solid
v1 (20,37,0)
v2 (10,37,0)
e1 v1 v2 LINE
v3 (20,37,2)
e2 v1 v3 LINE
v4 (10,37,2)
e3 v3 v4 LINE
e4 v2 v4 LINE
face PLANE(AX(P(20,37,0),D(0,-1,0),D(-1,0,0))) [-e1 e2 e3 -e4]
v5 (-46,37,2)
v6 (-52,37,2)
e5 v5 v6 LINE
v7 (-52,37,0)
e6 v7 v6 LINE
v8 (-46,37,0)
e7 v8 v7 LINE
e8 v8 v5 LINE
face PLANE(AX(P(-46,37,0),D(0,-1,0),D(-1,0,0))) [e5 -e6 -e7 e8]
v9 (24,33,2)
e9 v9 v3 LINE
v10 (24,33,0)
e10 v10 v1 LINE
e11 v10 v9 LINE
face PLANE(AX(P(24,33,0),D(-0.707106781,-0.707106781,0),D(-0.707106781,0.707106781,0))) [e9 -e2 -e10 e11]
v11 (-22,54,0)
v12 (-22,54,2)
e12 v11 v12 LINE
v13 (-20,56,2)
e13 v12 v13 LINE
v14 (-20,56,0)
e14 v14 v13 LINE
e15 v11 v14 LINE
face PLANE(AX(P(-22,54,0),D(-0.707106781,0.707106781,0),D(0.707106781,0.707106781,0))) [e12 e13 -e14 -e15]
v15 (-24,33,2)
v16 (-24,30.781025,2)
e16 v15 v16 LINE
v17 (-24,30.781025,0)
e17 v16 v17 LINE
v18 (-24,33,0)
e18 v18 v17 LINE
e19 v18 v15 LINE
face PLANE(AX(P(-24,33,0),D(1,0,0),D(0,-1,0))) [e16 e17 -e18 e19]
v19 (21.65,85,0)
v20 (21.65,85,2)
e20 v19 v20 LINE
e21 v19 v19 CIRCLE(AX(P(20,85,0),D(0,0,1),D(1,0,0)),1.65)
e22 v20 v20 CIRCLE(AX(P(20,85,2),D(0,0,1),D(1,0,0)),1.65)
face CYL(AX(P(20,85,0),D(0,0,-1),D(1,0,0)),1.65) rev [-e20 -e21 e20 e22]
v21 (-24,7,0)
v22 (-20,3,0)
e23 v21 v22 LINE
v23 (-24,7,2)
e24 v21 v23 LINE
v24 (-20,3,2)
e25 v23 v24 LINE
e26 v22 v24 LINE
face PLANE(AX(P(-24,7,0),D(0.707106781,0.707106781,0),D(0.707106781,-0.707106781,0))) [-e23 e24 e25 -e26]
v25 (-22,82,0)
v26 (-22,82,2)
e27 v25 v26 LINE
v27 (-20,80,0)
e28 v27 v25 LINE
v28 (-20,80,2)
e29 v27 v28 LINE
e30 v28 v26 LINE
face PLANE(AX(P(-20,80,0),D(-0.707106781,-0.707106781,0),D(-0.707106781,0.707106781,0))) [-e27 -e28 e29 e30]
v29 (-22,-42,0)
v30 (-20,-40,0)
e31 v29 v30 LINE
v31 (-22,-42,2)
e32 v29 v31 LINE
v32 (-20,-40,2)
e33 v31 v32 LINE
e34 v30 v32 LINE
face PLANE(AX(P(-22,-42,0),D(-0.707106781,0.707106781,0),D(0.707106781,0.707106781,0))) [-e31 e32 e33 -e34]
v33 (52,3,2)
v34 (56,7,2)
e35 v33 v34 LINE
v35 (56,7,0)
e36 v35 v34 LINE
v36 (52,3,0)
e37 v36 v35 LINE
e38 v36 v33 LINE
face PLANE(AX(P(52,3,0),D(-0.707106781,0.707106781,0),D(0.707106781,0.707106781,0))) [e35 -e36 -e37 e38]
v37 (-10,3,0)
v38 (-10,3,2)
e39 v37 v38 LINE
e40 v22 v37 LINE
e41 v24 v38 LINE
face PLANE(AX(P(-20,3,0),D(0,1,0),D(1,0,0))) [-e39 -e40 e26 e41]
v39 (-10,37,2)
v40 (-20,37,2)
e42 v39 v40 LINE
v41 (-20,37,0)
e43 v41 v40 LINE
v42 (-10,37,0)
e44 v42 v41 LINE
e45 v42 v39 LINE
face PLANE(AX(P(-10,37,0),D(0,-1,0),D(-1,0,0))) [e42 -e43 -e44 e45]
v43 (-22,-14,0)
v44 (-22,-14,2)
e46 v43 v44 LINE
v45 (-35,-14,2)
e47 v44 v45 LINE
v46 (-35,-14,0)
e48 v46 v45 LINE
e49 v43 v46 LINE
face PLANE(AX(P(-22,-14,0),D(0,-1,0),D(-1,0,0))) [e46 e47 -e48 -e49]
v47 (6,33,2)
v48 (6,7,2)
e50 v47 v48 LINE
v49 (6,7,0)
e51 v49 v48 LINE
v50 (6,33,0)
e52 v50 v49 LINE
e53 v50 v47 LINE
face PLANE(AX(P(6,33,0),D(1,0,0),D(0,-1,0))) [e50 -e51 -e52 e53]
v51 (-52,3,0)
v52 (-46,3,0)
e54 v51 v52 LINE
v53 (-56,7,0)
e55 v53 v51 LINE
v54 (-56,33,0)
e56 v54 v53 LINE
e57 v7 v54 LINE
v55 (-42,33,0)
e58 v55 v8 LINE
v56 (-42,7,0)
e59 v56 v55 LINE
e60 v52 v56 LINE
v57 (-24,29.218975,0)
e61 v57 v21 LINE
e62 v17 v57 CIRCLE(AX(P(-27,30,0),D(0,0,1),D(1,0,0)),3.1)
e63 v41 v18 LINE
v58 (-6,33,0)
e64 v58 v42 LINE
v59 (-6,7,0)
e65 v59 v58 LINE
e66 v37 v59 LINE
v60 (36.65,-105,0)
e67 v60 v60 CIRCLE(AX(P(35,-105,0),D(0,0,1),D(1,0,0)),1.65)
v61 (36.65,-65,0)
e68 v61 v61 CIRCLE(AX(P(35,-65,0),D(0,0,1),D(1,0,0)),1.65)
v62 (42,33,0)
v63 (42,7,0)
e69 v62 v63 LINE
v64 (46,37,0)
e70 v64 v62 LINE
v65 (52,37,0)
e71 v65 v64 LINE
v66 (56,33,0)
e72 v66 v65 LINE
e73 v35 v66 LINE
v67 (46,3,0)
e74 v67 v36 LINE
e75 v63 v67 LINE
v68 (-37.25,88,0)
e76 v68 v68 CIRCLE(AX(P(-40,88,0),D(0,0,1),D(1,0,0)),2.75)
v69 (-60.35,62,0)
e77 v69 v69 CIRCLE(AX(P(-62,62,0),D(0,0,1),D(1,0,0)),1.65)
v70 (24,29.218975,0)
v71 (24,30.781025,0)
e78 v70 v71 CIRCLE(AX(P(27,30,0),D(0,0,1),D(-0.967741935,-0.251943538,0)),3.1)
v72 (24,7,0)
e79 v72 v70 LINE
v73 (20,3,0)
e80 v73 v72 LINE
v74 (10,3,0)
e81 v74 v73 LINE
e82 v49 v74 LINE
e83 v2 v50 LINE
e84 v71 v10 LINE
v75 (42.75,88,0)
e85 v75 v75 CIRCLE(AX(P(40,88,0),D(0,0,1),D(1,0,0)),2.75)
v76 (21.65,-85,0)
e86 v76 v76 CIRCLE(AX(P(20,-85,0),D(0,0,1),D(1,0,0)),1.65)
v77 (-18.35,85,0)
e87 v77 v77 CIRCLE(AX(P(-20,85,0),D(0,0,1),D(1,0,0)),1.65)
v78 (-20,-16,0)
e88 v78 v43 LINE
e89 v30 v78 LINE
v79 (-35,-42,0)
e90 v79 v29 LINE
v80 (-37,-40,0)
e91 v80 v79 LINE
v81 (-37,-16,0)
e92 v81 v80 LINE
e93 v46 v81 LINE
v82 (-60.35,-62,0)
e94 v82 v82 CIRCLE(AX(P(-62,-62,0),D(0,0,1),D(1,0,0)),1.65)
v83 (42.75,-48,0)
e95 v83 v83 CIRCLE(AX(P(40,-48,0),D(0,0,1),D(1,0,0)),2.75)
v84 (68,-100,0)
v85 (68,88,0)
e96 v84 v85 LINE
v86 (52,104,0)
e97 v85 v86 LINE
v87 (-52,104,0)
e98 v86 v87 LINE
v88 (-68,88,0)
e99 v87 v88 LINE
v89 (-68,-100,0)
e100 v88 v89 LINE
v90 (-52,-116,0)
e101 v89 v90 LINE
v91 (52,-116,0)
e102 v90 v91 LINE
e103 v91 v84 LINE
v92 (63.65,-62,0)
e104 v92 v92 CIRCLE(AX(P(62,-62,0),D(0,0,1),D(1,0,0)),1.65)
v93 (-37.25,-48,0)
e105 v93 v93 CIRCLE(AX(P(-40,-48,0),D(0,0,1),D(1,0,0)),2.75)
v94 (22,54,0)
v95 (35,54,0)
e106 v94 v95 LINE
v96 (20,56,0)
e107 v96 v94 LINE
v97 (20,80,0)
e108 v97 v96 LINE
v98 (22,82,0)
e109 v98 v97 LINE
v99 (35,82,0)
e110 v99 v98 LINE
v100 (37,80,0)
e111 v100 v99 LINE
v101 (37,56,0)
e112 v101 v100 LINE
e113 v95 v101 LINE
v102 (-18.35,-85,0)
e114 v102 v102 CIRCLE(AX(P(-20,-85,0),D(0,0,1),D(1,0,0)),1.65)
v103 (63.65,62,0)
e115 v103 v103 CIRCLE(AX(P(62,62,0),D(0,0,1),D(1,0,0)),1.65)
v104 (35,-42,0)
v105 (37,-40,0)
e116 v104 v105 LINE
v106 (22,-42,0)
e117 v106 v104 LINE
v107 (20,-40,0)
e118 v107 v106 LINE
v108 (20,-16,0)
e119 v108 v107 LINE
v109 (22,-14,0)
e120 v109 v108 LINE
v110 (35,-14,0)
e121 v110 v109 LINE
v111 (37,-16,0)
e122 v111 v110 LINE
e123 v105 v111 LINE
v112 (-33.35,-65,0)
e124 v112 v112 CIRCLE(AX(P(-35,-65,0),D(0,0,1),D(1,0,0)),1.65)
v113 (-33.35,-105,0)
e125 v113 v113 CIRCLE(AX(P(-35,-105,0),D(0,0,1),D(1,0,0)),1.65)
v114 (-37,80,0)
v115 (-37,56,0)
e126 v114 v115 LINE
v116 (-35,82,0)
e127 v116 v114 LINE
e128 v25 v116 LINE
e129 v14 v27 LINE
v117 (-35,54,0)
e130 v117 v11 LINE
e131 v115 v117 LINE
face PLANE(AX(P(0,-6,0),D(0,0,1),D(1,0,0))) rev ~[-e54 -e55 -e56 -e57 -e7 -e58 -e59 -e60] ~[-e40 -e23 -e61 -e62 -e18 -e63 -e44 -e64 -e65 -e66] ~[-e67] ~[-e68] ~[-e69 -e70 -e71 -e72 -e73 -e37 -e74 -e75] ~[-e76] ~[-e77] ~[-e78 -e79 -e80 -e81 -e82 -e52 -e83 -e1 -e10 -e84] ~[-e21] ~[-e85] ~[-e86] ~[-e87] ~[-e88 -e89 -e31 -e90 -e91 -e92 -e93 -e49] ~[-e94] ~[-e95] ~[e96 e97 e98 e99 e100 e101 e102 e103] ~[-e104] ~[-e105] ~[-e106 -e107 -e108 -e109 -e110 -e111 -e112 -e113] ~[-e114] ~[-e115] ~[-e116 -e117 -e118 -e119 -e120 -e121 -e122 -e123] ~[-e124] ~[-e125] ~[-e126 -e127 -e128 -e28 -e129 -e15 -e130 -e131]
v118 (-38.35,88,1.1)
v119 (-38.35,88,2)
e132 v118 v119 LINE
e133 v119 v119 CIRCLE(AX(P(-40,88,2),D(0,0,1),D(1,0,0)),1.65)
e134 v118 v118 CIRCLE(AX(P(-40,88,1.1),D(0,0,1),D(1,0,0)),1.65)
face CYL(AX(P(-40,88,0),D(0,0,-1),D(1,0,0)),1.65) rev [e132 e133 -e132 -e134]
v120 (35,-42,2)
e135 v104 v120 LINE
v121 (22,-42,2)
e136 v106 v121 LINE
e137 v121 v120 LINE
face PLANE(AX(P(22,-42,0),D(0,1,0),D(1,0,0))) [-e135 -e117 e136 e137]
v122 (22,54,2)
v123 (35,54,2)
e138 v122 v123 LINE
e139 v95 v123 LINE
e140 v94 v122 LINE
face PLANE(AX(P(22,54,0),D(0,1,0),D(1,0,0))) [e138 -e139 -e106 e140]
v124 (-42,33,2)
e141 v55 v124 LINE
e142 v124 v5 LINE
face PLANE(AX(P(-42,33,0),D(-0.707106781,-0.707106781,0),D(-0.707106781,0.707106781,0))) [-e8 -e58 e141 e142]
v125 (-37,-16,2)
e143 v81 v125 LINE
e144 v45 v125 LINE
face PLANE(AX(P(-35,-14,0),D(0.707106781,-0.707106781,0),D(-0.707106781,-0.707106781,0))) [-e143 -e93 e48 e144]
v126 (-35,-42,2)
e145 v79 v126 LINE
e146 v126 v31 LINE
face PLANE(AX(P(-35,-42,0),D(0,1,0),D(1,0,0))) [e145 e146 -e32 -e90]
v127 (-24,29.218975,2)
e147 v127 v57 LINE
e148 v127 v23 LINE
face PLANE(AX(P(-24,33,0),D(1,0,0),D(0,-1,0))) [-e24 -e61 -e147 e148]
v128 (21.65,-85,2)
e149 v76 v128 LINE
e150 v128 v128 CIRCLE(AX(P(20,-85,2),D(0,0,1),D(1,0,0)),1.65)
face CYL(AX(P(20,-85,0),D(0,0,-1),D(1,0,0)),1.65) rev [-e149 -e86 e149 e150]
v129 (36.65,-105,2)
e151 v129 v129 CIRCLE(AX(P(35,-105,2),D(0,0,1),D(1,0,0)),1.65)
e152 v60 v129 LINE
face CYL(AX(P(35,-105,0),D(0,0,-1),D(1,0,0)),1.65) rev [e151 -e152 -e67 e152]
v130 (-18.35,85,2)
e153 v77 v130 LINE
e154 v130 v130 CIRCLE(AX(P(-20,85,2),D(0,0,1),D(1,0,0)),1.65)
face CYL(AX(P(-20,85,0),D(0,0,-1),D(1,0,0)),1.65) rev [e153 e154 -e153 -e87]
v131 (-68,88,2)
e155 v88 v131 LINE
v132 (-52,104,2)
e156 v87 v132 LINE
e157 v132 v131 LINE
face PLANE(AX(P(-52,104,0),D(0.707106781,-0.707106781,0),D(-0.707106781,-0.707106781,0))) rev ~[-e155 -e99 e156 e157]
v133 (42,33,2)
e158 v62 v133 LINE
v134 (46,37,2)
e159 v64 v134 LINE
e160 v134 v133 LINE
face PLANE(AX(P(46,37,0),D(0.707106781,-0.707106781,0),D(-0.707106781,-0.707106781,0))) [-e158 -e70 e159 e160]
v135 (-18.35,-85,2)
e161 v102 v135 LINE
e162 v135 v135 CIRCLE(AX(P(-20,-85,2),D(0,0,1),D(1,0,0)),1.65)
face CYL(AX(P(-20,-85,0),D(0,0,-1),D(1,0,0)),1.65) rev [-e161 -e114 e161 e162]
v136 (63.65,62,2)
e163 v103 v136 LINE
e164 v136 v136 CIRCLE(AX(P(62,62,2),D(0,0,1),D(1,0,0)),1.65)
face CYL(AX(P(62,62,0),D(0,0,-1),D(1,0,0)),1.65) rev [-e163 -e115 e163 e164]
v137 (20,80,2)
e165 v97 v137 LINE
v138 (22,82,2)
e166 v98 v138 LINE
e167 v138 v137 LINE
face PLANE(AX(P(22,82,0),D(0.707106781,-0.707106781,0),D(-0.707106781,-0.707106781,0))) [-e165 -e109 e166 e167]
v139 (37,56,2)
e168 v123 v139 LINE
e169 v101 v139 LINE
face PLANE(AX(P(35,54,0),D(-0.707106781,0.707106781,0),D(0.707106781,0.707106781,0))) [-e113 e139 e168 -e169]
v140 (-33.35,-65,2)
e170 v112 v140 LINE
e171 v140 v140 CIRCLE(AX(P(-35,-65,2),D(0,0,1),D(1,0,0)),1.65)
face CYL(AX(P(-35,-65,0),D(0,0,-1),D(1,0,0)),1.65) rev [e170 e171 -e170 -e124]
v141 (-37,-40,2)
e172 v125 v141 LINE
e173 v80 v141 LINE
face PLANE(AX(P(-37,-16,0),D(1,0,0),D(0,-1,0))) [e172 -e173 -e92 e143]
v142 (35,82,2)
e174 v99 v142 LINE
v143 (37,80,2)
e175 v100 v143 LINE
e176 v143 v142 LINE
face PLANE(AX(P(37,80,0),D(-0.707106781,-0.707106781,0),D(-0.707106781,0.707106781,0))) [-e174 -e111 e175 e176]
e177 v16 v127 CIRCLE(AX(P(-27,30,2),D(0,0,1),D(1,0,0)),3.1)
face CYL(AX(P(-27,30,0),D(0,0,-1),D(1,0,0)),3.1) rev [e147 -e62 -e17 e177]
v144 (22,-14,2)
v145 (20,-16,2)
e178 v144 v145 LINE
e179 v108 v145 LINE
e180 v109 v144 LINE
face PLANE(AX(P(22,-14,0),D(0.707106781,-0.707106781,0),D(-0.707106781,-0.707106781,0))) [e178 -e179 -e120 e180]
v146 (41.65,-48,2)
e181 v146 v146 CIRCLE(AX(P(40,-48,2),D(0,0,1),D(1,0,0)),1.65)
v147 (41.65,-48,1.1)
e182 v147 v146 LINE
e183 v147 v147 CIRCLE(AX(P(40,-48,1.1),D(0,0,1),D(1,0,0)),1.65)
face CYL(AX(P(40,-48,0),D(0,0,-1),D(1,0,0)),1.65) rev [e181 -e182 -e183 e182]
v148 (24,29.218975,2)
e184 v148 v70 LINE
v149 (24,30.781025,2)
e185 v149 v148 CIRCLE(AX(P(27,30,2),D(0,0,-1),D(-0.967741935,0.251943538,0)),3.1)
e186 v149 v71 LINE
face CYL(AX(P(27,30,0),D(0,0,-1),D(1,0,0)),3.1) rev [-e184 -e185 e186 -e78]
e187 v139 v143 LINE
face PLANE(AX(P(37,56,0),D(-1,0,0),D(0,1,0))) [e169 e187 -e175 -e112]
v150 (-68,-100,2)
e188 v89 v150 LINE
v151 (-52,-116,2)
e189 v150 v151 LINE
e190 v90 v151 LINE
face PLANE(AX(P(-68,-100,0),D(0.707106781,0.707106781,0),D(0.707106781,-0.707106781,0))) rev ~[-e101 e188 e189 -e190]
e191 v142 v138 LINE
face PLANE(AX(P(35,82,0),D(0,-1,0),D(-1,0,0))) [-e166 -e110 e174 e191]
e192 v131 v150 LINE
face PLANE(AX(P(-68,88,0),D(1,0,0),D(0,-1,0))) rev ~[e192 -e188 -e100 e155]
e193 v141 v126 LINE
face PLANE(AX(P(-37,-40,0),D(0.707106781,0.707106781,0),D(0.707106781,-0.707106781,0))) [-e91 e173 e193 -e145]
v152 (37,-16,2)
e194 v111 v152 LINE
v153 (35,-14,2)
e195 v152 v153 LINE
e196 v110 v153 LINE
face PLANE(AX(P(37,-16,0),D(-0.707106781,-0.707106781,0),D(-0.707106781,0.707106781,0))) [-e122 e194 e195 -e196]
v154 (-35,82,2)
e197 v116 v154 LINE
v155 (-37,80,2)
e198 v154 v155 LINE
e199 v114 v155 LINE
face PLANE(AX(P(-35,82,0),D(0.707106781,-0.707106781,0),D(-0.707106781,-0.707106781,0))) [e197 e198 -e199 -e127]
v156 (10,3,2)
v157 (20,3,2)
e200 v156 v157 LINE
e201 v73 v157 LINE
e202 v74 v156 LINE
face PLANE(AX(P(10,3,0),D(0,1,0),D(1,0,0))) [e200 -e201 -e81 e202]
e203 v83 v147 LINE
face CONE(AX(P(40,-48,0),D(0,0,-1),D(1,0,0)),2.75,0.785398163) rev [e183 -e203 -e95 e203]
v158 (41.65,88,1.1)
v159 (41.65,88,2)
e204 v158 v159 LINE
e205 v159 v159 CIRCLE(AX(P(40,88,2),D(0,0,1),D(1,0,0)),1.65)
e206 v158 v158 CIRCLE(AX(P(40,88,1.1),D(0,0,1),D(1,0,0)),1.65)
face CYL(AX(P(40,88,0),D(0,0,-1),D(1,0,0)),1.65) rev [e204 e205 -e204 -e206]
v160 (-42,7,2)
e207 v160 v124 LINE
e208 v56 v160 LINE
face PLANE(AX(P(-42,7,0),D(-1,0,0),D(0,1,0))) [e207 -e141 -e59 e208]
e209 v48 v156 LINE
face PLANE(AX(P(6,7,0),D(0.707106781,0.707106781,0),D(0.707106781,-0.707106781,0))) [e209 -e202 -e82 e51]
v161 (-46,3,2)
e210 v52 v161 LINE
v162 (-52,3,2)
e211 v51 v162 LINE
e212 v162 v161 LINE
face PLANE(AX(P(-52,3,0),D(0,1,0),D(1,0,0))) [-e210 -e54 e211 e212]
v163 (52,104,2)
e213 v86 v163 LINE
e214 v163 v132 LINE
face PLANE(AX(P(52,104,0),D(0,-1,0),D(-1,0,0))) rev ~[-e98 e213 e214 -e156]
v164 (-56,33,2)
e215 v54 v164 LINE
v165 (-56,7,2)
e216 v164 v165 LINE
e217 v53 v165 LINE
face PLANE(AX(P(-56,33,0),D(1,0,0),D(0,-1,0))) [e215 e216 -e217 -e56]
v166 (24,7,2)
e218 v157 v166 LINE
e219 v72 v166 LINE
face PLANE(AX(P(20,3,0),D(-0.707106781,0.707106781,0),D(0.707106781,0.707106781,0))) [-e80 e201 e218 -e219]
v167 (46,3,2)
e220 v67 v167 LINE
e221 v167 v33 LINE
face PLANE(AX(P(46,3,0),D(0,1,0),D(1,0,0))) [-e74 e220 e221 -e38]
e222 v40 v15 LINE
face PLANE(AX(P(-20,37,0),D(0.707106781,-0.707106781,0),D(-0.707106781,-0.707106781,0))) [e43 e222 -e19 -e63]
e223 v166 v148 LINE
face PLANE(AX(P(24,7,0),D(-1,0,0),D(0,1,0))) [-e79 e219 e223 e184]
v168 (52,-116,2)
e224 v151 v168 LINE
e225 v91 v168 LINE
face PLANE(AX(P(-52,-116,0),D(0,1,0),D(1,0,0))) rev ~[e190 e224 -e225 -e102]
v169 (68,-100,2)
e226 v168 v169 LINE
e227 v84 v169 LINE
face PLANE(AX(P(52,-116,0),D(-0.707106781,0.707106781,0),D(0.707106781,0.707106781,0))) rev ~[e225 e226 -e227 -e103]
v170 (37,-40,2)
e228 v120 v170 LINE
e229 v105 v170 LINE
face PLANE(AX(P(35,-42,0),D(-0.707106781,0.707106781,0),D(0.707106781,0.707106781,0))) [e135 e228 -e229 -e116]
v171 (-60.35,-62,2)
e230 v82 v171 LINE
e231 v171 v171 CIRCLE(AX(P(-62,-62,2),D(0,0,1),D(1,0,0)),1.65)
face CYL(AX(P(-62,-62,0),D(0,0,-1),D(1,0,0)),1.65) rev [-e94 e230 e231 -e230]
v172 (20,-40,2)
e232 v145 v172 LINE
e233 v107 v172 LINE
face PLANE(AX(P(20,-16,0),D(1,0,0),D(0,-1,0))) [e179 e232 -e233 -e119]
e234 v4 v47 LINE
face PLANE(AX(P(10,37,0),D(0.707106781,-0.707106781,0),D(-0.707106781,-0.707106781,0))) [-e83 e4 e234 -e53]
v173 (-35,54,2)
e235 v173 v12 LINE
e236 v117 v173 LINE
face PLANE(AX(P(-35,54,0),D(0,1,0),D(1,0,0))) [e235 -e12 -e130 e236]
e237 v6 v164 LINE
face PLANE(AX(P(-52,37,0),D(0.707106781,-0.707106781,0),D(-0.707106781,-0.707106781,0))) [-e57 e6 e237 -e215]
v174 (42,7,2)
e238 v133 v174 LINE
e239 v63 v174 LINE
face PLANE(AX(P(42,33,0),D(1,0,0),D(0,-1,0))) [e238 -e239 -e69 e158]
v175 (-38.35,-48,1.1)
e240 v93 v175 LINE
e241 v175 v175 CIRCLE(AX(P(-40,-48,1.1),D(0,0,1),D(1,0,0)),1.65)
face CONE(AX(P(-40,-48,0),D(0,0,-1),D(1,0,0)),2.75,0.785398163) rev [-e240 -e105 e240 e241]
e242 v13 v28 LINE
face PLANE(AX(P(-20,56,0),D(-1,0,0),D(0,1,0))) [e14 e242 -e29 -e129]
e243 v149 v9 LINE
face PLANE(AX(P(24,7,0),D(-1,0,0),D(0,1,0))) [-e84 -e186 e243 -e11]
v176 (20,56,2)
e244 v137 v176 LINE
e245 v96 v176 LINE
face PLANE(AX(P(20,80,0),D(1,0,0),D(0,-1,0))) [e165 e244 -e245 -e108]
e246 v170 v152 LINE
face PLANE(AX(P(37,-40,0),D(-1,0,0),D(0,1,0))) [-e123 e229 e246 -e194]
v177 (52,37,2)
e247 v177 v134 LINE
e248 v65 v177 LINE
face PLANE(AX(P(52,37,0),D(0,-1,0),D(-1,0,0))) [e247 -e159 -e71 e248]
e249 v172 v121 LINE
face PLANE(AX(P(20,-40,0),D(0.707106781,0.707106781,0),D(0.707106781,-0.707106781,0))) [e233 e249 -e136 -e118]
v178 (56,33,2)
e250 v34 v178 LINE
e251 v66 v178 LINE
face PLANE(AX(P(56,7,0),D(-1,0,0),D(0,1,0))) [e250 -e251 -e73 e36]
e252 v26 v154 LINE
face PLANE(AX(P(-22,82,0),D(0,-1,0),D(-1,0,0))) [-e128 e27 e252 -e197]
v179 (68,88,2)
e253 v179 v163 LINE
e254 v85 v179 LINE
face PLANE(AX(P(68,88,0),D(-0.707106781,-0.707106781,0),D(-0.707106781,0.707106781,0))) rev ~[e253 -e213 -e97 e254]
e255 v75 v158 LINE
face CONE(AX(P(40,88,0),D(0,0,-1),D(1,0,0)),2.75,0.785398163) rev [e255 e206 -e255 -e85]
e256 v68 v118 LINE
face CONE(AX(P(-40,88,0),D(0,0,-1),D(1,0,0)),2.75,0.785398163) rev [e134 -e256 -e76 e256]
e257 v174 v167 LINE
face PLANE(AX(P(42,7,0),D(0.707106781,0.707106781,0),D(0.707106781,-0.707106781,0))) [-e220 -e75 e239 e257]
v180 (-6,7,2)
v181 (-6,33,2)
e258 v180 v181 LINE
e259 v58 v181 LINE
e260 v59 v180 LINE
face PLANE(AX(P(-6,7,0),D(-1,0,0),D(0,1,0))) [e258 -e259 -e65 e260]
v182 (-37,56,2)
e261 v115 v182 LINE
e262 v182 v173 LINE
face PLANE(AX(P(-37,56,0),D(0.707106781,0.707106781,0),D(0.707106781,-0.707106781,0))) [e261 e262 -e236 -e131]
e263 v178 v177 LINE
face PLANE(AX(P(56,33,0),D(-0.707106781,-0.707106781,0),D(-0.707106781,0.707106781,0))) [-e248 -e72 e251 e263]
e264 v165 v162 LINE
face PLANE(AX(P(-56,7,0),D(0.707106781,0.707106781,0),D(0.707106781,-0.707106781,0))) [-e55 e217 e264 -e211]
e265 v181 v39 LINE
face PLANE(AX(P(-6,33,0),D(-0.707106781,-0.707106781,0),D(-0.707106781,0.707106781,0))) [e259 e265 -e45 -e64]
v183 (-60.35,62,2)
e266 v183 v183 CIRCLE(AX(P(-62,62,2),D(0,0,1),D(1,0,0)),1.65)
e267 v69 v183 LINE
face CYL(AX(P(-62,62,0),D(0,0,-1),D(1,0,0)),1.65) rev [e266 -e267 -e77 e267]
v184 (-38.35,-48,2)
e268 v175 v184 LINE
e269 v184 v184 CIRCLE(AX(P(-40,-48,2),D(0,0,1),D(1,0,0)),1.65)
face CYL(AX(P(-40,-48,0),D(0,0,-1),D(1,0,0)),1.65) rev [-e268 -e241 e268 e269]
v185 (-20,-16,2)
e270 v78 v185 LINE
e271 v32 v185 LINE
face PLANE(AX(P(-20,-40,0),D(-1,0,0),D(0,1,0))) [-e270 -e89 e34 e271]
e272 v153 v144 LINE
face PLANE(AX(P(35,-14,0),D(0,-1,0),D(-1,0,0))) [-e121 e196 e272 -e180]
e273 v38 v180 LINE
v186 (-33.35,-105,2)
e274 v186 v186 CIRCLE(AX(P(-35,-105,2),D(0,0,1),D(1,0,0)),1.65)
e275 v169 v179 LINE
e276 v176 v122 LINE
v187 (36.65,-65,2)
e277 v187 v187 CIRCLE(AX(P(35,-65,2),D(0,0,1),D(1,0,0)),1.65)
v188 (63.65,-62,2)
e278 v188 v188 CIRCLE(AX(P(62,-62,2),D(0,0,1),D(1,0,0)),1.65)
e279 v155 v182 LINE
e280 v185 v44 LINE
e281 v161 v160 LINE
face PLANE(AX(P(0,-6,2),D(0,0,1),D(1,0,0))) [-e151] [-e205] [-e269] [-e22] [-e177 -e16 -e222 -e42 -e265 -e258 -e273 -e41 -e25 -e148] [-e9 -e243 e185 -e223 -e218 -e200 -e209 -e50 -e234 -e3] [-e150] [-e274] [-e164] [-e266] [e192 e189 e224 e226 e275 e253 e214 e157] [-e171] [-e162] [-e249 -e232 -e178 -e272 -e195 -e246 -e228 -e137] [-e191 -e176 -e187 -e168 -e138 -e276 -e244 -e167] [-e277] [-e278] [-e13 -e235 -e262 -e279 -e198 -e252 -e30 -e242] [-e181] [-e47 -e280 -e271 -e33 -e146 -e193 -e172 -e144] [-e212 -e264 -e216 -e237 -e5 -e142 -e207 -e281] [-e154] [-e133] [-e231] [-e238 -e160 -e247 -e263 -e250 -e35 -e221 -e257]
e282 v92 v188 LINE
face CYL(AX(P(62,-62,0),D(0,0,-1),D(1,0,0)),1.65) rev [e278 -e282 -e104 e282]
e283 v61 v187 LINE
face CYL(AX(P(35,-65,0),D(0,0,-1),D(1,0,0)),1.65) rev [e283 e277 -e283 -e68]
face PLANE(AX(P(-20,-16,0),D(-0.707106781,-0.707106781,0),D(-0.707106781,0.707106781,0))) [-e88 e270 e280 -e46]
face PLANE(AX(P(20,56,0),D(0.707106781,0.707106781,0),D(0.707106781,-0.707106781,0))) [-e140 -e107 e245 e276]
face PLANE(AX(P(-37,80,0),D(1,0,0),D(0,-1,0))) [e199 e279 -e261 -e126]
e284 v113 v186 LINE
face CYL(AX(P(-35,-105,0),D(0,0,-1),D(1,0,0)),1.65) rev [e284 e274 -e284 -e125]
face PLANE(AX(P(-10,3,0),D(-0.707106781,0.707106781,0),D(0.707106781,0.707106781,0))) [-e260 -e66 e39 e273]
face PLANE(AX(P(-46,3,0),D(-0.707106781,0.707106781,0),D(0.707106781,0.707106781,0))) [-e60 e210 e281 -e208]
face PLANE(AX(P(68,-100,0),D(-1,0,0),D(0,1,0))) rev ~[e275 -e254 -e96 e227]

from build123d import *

# Parameters (mm, degrees)
SKETCH_6_R               = 1.65
EXTRUDE_401_DEPTH        = 2
SKETCH_7_R               = 3.1
CUT_EXTRUDE_474_DEPTH    = 2
SKETCH_8_R               = 2.75
D5P5_1P1_DEPTH           = 1.1
D5P5_1P1_DRAFT           = 45
D5P5_1P1_PROFILE_2_DEPTH = 1.1
D5P5_1P1_PROFILE_2_DRAFT = 45
D5P5_1P1_PROFILE_3_DEPTH = 1.1
D5P5_1P1_PROFILE_3_DRAFT = 45
D5P5_1P1_PROFILE_4_DEPTH = 1.1
D5P5_1P1_PROFILE_4_DRAFT = 45


with BuildPart() as part:
    # 草图6 → Extrude 401 (new body)
    with BuildSketch(Plane.XY):
        Polygon((-52, -116), (52, -116), (68, -100), (68, 88), (52, 104), (-52, 104), (-68, 88), (-68, -100), align=None)
        with Locations((-20, -85)):
            Circle(SKETCH_6_R, mode=Mode.SUBTRACT)
        with Locations((-62, -62)):
            Circle(SKETCH_6_R, mode=Mode.SUBTRACT)
        with Locations((-40, -48)):
            Circle(SKETCH_6_R, mode=Mode.SUBTRACT)
        with Locations((-35, -105)):
            Circle(SKETCH_6_R, mode=Mode.SUBTRACT)
        with Locations((-20, 85)):
            Circle(SKETCH_6_R, mode=Mode.SUBTRACT)
        with Locations((-62, 62)):
            Circle(SKETCH_6_R, mode=Mode.SUBTRACT)
        with Locations((-40, 88)):
            Circle(SKETCH_6_R, mode=Mode.SUBTRACT)
        with Locations((-35, -65)):
            Circle(SKETCH_6_R, mode=Mode.SUBTRACT)
        with Locations((20, -85)):
            Circle(SKETCH_6_R, mode=Mode.SUBTRACT)
        with Locations((62, -62)):
            Circle(SKETCH_6_R, mode=Mode.SUBTRACT)
        with Locations((40, -48)):
            Circle(SKETCH_6_R, mode=Mode.SUBTRACT)
        with Locations((35, -105)):
            Circle(SKETCH_6_R, mode=Mode.SUBTRACT)
        with Locations((20, 85)):
            Circle(SKETCH_6_R, mode=Mode.SUBTRACT)
        with Locations((62, 62)):
            Circle(SKETCH_6_R, mode=Mode.SUBTRACT)
        with Locations((40, 88)):
            Circle(SKETCH_6_R, mode=Mode.SUBTRACT)
        with Locations((35, -65)):
            Circle(SKETCH_6_R, mode=Mode.SUBTRACT)
        Polygon((-35, -42), (-22, -42), (-20, -40), (-20, -16), (-22, -14), (-35, -14), (-37, -16), (-37, -40), align=None, mode=Mode.SUBTRACT)
        Polygon((-35, 54), (-22, 54), (-20, 56), (-20, 80), (-22, 82), (-35, 82), (-37, 80), (-37, 56), align=None, mode=Mode.SUBTRACT)
        Polygon((22, -42), (35, -42), (37, -40), (37, -16), (35, -14), (22, -14), (20, -16), (20, -40), align=None, mode=Mode.SUBTRACT)
        Polygon((22, 54), (35, 54), (37, 56), (37, 80), (35, 82), (22, 82), (20, 80), (20, 56), align=None, mode=Mode.SUBTRACT)
        Polygon((-20, 3), (-10, 3), (-6, 7), (-6, 33), (-10, 37), (-20, 37), (-24, 33), (-24, 7), align=None, mode=Mode.SUBTRACT)
        Polygon((-52, 3), (-46, 3), (-42, 7), (-42, 33), (-46, 37), (-52, 37), (-56, 33), (-56, 7), align=None, mode=Mode.SUBTRACT)
        Polygon((10, 3), (20, 3), (24, 7), (24, 33), (20, 37), (10, 37), (6, 33), (6, 7), align=None, mode=Mode.SUBTRACT)
        Polygon((46, 3), (52, 3), (56, 7), (56, 33), (52, 37), (46, 37), (42, 33), (42, 7), align=None, mode=Mode.SUBTRACT)
    extrude(amount=EXTRUDE_401_DEPTH)

    # 草图7 → Cut-Extrude 474 (cut)
    with BuildSketch(Plane.XY):
        with Locations((-27, -30)):
            Circle(SKETCH_7_R)
        with Locations((-27, 30)):
            Circle(SKETCH_7_R)
        with Locations((27, -30)):
            Circle(SKETCH_7_R)
        with Locations((27, 30)):
            Circle(SKETCH_7_R)
    extrude(amount=CUT_EXTRUDE_474_DEPTH, mode=Mode.SUBTRACT)


with BuildPart() as d5p5_1p1_tool:
    # 草图8 → 侧鞍下沉头孔_D5p5深1p1 (with draft: the straight prism first)
    with BuildSketch(Plane.XY):
        with Locations((-40, -48)):
            Circle(SKETCH_8_R)
    extrude(amount=D5P5_1P1_DEPTH)
    # 侧鞍下沉头孔_D5p5深1p1: the draft: its side faces are tilted about the plane it starts from
    d5p5_1p1_sides = [d5p5_1p1_tool.faces().sort_by_distance(p)[0] for p in [
        (-42.75, -48, 0.55),
    ]]
    draft(d5p5_1p1_sides, Plane.XY, D5P5_1P1_DRAFT)


with BuildPart() as part_1:
    add(part.part)

    # 侧鞍下沉头孔_D5p5深1p1: cut by d5p5_1p1_tool
    add(d5p5_1p1_tool.part, mode=Mode.SUBTRACT)


with BuildPart() as d5p5_1p1_profile_2_tool:
    # 草图8 → 侧鞍下沉头孔_D5p5深1p1 profile 2 (with draft: the straight prism first)
    with BuildSketch(Plane.XY):
        with Locations((-40, 88)):
            Circle(SKETCH_8_R)
    extrude(amount=D5P5_1P1_PROFILE_2_DEPTH)
    # 侧鞍下沉头孔_D5p5深1p1 profile 2: the draft: its side faces are tilted about the plane it starts from
    d5p5_1p1_profile_2_sides = [d5p5_1p1_profile_2_tool.faces().sort_by_distance(p)[0] for p in [
        (-42.75, 88, 0.55),
    ]]
    draft(d5p5_1p1_profile_2_sides, Plane.XY, D5P5_1P1_PROFILE_2_DRAFT)


with BuildPart() as part_2:
    add(part_1.part)

    # 侧鞍下沉头孔_D5p5深1p1 profile 2: cut by d5p5_1p1_profile_2_tool
    add(d5p5_1p1_profile_2_tool.part, mode=Mode.SUBTRACT)


with BuildPart() as d5p5_1p1_profile_3_tool:
    # 草图8 → 侧鞍下沉头孔_D5p5深1p1 profile 3 (with draft: the straight prism first)
    with BuildSketch(Plane.XY):
        with Locations((40, -48)):
            Circle(SKETCH_8_R)
    extrude(amount=D5P5_1P1_PROFILE_3_DEPTH)
    # 侧鞍下沉头孔_D5p5深1p1 profile 3: the draft: its side faces are tilted about the plane it starts from
    d5p5_1p1_profile_3_sides = [d5p5_1p1_profile_3_tool.faces().sort_by_distance(p)[0] for p in [
        (37.25, -48, 0.55),
    ]]
    draft(d5p5_1p1_profile_3_sides, Plane.XY, D5P5_1P1_PROFILE_3_DRAFT)


with BuildPart() as part_3:
    add(part_2.part)

    # 侧鞍下沉头孔_D5p5深1p1 profile 3: cut by d5p5_1p1_profile_3_tool
    add(d5p5_1p1_profile_3_tool.part, mode=Mode.SUBTRACT)


with BuildPart() as d5p5_1p1_profile_4_tool:
    # 草图8 → 侧鞍下沉头孔_D5p5深1p1 profile 4 (with draft: the straight prism first)
    with BuildSketch(Plane.XY):
        with Locations((40, 88)):
            Circle(SKETCH_8_R)
    extrude(amount=D5P5_1P1_PROFILE_4_DEPTH)
    # 侧鞍下沉头孔_D5p5深1p1 profile 4: the draft: its side faces are tilted about the plane it starts from
    d5p5_1p1_profile_4_sides = [d5p5_1p1_profile_4_tool.faces().sort_by_distance(p)[0] for p in [
        (37.25, 88, 0.55),
    ]]
    draft(d5p5_1p1_profile_4_sides, Plane.XY, D5P5_1P1_PROFILE_4_DRAFT)


with BuildPart() as part_4:
    add(part_3.part)

    # 侧鞍下沉头孔_D5p5深1p1 profile 4: cut by d5p5_1p1_profile_4_tool
    add(d5p5_1p1_profile_4_tool.part, mode=Mode.SUBTRACT)


solid = part_4.part
